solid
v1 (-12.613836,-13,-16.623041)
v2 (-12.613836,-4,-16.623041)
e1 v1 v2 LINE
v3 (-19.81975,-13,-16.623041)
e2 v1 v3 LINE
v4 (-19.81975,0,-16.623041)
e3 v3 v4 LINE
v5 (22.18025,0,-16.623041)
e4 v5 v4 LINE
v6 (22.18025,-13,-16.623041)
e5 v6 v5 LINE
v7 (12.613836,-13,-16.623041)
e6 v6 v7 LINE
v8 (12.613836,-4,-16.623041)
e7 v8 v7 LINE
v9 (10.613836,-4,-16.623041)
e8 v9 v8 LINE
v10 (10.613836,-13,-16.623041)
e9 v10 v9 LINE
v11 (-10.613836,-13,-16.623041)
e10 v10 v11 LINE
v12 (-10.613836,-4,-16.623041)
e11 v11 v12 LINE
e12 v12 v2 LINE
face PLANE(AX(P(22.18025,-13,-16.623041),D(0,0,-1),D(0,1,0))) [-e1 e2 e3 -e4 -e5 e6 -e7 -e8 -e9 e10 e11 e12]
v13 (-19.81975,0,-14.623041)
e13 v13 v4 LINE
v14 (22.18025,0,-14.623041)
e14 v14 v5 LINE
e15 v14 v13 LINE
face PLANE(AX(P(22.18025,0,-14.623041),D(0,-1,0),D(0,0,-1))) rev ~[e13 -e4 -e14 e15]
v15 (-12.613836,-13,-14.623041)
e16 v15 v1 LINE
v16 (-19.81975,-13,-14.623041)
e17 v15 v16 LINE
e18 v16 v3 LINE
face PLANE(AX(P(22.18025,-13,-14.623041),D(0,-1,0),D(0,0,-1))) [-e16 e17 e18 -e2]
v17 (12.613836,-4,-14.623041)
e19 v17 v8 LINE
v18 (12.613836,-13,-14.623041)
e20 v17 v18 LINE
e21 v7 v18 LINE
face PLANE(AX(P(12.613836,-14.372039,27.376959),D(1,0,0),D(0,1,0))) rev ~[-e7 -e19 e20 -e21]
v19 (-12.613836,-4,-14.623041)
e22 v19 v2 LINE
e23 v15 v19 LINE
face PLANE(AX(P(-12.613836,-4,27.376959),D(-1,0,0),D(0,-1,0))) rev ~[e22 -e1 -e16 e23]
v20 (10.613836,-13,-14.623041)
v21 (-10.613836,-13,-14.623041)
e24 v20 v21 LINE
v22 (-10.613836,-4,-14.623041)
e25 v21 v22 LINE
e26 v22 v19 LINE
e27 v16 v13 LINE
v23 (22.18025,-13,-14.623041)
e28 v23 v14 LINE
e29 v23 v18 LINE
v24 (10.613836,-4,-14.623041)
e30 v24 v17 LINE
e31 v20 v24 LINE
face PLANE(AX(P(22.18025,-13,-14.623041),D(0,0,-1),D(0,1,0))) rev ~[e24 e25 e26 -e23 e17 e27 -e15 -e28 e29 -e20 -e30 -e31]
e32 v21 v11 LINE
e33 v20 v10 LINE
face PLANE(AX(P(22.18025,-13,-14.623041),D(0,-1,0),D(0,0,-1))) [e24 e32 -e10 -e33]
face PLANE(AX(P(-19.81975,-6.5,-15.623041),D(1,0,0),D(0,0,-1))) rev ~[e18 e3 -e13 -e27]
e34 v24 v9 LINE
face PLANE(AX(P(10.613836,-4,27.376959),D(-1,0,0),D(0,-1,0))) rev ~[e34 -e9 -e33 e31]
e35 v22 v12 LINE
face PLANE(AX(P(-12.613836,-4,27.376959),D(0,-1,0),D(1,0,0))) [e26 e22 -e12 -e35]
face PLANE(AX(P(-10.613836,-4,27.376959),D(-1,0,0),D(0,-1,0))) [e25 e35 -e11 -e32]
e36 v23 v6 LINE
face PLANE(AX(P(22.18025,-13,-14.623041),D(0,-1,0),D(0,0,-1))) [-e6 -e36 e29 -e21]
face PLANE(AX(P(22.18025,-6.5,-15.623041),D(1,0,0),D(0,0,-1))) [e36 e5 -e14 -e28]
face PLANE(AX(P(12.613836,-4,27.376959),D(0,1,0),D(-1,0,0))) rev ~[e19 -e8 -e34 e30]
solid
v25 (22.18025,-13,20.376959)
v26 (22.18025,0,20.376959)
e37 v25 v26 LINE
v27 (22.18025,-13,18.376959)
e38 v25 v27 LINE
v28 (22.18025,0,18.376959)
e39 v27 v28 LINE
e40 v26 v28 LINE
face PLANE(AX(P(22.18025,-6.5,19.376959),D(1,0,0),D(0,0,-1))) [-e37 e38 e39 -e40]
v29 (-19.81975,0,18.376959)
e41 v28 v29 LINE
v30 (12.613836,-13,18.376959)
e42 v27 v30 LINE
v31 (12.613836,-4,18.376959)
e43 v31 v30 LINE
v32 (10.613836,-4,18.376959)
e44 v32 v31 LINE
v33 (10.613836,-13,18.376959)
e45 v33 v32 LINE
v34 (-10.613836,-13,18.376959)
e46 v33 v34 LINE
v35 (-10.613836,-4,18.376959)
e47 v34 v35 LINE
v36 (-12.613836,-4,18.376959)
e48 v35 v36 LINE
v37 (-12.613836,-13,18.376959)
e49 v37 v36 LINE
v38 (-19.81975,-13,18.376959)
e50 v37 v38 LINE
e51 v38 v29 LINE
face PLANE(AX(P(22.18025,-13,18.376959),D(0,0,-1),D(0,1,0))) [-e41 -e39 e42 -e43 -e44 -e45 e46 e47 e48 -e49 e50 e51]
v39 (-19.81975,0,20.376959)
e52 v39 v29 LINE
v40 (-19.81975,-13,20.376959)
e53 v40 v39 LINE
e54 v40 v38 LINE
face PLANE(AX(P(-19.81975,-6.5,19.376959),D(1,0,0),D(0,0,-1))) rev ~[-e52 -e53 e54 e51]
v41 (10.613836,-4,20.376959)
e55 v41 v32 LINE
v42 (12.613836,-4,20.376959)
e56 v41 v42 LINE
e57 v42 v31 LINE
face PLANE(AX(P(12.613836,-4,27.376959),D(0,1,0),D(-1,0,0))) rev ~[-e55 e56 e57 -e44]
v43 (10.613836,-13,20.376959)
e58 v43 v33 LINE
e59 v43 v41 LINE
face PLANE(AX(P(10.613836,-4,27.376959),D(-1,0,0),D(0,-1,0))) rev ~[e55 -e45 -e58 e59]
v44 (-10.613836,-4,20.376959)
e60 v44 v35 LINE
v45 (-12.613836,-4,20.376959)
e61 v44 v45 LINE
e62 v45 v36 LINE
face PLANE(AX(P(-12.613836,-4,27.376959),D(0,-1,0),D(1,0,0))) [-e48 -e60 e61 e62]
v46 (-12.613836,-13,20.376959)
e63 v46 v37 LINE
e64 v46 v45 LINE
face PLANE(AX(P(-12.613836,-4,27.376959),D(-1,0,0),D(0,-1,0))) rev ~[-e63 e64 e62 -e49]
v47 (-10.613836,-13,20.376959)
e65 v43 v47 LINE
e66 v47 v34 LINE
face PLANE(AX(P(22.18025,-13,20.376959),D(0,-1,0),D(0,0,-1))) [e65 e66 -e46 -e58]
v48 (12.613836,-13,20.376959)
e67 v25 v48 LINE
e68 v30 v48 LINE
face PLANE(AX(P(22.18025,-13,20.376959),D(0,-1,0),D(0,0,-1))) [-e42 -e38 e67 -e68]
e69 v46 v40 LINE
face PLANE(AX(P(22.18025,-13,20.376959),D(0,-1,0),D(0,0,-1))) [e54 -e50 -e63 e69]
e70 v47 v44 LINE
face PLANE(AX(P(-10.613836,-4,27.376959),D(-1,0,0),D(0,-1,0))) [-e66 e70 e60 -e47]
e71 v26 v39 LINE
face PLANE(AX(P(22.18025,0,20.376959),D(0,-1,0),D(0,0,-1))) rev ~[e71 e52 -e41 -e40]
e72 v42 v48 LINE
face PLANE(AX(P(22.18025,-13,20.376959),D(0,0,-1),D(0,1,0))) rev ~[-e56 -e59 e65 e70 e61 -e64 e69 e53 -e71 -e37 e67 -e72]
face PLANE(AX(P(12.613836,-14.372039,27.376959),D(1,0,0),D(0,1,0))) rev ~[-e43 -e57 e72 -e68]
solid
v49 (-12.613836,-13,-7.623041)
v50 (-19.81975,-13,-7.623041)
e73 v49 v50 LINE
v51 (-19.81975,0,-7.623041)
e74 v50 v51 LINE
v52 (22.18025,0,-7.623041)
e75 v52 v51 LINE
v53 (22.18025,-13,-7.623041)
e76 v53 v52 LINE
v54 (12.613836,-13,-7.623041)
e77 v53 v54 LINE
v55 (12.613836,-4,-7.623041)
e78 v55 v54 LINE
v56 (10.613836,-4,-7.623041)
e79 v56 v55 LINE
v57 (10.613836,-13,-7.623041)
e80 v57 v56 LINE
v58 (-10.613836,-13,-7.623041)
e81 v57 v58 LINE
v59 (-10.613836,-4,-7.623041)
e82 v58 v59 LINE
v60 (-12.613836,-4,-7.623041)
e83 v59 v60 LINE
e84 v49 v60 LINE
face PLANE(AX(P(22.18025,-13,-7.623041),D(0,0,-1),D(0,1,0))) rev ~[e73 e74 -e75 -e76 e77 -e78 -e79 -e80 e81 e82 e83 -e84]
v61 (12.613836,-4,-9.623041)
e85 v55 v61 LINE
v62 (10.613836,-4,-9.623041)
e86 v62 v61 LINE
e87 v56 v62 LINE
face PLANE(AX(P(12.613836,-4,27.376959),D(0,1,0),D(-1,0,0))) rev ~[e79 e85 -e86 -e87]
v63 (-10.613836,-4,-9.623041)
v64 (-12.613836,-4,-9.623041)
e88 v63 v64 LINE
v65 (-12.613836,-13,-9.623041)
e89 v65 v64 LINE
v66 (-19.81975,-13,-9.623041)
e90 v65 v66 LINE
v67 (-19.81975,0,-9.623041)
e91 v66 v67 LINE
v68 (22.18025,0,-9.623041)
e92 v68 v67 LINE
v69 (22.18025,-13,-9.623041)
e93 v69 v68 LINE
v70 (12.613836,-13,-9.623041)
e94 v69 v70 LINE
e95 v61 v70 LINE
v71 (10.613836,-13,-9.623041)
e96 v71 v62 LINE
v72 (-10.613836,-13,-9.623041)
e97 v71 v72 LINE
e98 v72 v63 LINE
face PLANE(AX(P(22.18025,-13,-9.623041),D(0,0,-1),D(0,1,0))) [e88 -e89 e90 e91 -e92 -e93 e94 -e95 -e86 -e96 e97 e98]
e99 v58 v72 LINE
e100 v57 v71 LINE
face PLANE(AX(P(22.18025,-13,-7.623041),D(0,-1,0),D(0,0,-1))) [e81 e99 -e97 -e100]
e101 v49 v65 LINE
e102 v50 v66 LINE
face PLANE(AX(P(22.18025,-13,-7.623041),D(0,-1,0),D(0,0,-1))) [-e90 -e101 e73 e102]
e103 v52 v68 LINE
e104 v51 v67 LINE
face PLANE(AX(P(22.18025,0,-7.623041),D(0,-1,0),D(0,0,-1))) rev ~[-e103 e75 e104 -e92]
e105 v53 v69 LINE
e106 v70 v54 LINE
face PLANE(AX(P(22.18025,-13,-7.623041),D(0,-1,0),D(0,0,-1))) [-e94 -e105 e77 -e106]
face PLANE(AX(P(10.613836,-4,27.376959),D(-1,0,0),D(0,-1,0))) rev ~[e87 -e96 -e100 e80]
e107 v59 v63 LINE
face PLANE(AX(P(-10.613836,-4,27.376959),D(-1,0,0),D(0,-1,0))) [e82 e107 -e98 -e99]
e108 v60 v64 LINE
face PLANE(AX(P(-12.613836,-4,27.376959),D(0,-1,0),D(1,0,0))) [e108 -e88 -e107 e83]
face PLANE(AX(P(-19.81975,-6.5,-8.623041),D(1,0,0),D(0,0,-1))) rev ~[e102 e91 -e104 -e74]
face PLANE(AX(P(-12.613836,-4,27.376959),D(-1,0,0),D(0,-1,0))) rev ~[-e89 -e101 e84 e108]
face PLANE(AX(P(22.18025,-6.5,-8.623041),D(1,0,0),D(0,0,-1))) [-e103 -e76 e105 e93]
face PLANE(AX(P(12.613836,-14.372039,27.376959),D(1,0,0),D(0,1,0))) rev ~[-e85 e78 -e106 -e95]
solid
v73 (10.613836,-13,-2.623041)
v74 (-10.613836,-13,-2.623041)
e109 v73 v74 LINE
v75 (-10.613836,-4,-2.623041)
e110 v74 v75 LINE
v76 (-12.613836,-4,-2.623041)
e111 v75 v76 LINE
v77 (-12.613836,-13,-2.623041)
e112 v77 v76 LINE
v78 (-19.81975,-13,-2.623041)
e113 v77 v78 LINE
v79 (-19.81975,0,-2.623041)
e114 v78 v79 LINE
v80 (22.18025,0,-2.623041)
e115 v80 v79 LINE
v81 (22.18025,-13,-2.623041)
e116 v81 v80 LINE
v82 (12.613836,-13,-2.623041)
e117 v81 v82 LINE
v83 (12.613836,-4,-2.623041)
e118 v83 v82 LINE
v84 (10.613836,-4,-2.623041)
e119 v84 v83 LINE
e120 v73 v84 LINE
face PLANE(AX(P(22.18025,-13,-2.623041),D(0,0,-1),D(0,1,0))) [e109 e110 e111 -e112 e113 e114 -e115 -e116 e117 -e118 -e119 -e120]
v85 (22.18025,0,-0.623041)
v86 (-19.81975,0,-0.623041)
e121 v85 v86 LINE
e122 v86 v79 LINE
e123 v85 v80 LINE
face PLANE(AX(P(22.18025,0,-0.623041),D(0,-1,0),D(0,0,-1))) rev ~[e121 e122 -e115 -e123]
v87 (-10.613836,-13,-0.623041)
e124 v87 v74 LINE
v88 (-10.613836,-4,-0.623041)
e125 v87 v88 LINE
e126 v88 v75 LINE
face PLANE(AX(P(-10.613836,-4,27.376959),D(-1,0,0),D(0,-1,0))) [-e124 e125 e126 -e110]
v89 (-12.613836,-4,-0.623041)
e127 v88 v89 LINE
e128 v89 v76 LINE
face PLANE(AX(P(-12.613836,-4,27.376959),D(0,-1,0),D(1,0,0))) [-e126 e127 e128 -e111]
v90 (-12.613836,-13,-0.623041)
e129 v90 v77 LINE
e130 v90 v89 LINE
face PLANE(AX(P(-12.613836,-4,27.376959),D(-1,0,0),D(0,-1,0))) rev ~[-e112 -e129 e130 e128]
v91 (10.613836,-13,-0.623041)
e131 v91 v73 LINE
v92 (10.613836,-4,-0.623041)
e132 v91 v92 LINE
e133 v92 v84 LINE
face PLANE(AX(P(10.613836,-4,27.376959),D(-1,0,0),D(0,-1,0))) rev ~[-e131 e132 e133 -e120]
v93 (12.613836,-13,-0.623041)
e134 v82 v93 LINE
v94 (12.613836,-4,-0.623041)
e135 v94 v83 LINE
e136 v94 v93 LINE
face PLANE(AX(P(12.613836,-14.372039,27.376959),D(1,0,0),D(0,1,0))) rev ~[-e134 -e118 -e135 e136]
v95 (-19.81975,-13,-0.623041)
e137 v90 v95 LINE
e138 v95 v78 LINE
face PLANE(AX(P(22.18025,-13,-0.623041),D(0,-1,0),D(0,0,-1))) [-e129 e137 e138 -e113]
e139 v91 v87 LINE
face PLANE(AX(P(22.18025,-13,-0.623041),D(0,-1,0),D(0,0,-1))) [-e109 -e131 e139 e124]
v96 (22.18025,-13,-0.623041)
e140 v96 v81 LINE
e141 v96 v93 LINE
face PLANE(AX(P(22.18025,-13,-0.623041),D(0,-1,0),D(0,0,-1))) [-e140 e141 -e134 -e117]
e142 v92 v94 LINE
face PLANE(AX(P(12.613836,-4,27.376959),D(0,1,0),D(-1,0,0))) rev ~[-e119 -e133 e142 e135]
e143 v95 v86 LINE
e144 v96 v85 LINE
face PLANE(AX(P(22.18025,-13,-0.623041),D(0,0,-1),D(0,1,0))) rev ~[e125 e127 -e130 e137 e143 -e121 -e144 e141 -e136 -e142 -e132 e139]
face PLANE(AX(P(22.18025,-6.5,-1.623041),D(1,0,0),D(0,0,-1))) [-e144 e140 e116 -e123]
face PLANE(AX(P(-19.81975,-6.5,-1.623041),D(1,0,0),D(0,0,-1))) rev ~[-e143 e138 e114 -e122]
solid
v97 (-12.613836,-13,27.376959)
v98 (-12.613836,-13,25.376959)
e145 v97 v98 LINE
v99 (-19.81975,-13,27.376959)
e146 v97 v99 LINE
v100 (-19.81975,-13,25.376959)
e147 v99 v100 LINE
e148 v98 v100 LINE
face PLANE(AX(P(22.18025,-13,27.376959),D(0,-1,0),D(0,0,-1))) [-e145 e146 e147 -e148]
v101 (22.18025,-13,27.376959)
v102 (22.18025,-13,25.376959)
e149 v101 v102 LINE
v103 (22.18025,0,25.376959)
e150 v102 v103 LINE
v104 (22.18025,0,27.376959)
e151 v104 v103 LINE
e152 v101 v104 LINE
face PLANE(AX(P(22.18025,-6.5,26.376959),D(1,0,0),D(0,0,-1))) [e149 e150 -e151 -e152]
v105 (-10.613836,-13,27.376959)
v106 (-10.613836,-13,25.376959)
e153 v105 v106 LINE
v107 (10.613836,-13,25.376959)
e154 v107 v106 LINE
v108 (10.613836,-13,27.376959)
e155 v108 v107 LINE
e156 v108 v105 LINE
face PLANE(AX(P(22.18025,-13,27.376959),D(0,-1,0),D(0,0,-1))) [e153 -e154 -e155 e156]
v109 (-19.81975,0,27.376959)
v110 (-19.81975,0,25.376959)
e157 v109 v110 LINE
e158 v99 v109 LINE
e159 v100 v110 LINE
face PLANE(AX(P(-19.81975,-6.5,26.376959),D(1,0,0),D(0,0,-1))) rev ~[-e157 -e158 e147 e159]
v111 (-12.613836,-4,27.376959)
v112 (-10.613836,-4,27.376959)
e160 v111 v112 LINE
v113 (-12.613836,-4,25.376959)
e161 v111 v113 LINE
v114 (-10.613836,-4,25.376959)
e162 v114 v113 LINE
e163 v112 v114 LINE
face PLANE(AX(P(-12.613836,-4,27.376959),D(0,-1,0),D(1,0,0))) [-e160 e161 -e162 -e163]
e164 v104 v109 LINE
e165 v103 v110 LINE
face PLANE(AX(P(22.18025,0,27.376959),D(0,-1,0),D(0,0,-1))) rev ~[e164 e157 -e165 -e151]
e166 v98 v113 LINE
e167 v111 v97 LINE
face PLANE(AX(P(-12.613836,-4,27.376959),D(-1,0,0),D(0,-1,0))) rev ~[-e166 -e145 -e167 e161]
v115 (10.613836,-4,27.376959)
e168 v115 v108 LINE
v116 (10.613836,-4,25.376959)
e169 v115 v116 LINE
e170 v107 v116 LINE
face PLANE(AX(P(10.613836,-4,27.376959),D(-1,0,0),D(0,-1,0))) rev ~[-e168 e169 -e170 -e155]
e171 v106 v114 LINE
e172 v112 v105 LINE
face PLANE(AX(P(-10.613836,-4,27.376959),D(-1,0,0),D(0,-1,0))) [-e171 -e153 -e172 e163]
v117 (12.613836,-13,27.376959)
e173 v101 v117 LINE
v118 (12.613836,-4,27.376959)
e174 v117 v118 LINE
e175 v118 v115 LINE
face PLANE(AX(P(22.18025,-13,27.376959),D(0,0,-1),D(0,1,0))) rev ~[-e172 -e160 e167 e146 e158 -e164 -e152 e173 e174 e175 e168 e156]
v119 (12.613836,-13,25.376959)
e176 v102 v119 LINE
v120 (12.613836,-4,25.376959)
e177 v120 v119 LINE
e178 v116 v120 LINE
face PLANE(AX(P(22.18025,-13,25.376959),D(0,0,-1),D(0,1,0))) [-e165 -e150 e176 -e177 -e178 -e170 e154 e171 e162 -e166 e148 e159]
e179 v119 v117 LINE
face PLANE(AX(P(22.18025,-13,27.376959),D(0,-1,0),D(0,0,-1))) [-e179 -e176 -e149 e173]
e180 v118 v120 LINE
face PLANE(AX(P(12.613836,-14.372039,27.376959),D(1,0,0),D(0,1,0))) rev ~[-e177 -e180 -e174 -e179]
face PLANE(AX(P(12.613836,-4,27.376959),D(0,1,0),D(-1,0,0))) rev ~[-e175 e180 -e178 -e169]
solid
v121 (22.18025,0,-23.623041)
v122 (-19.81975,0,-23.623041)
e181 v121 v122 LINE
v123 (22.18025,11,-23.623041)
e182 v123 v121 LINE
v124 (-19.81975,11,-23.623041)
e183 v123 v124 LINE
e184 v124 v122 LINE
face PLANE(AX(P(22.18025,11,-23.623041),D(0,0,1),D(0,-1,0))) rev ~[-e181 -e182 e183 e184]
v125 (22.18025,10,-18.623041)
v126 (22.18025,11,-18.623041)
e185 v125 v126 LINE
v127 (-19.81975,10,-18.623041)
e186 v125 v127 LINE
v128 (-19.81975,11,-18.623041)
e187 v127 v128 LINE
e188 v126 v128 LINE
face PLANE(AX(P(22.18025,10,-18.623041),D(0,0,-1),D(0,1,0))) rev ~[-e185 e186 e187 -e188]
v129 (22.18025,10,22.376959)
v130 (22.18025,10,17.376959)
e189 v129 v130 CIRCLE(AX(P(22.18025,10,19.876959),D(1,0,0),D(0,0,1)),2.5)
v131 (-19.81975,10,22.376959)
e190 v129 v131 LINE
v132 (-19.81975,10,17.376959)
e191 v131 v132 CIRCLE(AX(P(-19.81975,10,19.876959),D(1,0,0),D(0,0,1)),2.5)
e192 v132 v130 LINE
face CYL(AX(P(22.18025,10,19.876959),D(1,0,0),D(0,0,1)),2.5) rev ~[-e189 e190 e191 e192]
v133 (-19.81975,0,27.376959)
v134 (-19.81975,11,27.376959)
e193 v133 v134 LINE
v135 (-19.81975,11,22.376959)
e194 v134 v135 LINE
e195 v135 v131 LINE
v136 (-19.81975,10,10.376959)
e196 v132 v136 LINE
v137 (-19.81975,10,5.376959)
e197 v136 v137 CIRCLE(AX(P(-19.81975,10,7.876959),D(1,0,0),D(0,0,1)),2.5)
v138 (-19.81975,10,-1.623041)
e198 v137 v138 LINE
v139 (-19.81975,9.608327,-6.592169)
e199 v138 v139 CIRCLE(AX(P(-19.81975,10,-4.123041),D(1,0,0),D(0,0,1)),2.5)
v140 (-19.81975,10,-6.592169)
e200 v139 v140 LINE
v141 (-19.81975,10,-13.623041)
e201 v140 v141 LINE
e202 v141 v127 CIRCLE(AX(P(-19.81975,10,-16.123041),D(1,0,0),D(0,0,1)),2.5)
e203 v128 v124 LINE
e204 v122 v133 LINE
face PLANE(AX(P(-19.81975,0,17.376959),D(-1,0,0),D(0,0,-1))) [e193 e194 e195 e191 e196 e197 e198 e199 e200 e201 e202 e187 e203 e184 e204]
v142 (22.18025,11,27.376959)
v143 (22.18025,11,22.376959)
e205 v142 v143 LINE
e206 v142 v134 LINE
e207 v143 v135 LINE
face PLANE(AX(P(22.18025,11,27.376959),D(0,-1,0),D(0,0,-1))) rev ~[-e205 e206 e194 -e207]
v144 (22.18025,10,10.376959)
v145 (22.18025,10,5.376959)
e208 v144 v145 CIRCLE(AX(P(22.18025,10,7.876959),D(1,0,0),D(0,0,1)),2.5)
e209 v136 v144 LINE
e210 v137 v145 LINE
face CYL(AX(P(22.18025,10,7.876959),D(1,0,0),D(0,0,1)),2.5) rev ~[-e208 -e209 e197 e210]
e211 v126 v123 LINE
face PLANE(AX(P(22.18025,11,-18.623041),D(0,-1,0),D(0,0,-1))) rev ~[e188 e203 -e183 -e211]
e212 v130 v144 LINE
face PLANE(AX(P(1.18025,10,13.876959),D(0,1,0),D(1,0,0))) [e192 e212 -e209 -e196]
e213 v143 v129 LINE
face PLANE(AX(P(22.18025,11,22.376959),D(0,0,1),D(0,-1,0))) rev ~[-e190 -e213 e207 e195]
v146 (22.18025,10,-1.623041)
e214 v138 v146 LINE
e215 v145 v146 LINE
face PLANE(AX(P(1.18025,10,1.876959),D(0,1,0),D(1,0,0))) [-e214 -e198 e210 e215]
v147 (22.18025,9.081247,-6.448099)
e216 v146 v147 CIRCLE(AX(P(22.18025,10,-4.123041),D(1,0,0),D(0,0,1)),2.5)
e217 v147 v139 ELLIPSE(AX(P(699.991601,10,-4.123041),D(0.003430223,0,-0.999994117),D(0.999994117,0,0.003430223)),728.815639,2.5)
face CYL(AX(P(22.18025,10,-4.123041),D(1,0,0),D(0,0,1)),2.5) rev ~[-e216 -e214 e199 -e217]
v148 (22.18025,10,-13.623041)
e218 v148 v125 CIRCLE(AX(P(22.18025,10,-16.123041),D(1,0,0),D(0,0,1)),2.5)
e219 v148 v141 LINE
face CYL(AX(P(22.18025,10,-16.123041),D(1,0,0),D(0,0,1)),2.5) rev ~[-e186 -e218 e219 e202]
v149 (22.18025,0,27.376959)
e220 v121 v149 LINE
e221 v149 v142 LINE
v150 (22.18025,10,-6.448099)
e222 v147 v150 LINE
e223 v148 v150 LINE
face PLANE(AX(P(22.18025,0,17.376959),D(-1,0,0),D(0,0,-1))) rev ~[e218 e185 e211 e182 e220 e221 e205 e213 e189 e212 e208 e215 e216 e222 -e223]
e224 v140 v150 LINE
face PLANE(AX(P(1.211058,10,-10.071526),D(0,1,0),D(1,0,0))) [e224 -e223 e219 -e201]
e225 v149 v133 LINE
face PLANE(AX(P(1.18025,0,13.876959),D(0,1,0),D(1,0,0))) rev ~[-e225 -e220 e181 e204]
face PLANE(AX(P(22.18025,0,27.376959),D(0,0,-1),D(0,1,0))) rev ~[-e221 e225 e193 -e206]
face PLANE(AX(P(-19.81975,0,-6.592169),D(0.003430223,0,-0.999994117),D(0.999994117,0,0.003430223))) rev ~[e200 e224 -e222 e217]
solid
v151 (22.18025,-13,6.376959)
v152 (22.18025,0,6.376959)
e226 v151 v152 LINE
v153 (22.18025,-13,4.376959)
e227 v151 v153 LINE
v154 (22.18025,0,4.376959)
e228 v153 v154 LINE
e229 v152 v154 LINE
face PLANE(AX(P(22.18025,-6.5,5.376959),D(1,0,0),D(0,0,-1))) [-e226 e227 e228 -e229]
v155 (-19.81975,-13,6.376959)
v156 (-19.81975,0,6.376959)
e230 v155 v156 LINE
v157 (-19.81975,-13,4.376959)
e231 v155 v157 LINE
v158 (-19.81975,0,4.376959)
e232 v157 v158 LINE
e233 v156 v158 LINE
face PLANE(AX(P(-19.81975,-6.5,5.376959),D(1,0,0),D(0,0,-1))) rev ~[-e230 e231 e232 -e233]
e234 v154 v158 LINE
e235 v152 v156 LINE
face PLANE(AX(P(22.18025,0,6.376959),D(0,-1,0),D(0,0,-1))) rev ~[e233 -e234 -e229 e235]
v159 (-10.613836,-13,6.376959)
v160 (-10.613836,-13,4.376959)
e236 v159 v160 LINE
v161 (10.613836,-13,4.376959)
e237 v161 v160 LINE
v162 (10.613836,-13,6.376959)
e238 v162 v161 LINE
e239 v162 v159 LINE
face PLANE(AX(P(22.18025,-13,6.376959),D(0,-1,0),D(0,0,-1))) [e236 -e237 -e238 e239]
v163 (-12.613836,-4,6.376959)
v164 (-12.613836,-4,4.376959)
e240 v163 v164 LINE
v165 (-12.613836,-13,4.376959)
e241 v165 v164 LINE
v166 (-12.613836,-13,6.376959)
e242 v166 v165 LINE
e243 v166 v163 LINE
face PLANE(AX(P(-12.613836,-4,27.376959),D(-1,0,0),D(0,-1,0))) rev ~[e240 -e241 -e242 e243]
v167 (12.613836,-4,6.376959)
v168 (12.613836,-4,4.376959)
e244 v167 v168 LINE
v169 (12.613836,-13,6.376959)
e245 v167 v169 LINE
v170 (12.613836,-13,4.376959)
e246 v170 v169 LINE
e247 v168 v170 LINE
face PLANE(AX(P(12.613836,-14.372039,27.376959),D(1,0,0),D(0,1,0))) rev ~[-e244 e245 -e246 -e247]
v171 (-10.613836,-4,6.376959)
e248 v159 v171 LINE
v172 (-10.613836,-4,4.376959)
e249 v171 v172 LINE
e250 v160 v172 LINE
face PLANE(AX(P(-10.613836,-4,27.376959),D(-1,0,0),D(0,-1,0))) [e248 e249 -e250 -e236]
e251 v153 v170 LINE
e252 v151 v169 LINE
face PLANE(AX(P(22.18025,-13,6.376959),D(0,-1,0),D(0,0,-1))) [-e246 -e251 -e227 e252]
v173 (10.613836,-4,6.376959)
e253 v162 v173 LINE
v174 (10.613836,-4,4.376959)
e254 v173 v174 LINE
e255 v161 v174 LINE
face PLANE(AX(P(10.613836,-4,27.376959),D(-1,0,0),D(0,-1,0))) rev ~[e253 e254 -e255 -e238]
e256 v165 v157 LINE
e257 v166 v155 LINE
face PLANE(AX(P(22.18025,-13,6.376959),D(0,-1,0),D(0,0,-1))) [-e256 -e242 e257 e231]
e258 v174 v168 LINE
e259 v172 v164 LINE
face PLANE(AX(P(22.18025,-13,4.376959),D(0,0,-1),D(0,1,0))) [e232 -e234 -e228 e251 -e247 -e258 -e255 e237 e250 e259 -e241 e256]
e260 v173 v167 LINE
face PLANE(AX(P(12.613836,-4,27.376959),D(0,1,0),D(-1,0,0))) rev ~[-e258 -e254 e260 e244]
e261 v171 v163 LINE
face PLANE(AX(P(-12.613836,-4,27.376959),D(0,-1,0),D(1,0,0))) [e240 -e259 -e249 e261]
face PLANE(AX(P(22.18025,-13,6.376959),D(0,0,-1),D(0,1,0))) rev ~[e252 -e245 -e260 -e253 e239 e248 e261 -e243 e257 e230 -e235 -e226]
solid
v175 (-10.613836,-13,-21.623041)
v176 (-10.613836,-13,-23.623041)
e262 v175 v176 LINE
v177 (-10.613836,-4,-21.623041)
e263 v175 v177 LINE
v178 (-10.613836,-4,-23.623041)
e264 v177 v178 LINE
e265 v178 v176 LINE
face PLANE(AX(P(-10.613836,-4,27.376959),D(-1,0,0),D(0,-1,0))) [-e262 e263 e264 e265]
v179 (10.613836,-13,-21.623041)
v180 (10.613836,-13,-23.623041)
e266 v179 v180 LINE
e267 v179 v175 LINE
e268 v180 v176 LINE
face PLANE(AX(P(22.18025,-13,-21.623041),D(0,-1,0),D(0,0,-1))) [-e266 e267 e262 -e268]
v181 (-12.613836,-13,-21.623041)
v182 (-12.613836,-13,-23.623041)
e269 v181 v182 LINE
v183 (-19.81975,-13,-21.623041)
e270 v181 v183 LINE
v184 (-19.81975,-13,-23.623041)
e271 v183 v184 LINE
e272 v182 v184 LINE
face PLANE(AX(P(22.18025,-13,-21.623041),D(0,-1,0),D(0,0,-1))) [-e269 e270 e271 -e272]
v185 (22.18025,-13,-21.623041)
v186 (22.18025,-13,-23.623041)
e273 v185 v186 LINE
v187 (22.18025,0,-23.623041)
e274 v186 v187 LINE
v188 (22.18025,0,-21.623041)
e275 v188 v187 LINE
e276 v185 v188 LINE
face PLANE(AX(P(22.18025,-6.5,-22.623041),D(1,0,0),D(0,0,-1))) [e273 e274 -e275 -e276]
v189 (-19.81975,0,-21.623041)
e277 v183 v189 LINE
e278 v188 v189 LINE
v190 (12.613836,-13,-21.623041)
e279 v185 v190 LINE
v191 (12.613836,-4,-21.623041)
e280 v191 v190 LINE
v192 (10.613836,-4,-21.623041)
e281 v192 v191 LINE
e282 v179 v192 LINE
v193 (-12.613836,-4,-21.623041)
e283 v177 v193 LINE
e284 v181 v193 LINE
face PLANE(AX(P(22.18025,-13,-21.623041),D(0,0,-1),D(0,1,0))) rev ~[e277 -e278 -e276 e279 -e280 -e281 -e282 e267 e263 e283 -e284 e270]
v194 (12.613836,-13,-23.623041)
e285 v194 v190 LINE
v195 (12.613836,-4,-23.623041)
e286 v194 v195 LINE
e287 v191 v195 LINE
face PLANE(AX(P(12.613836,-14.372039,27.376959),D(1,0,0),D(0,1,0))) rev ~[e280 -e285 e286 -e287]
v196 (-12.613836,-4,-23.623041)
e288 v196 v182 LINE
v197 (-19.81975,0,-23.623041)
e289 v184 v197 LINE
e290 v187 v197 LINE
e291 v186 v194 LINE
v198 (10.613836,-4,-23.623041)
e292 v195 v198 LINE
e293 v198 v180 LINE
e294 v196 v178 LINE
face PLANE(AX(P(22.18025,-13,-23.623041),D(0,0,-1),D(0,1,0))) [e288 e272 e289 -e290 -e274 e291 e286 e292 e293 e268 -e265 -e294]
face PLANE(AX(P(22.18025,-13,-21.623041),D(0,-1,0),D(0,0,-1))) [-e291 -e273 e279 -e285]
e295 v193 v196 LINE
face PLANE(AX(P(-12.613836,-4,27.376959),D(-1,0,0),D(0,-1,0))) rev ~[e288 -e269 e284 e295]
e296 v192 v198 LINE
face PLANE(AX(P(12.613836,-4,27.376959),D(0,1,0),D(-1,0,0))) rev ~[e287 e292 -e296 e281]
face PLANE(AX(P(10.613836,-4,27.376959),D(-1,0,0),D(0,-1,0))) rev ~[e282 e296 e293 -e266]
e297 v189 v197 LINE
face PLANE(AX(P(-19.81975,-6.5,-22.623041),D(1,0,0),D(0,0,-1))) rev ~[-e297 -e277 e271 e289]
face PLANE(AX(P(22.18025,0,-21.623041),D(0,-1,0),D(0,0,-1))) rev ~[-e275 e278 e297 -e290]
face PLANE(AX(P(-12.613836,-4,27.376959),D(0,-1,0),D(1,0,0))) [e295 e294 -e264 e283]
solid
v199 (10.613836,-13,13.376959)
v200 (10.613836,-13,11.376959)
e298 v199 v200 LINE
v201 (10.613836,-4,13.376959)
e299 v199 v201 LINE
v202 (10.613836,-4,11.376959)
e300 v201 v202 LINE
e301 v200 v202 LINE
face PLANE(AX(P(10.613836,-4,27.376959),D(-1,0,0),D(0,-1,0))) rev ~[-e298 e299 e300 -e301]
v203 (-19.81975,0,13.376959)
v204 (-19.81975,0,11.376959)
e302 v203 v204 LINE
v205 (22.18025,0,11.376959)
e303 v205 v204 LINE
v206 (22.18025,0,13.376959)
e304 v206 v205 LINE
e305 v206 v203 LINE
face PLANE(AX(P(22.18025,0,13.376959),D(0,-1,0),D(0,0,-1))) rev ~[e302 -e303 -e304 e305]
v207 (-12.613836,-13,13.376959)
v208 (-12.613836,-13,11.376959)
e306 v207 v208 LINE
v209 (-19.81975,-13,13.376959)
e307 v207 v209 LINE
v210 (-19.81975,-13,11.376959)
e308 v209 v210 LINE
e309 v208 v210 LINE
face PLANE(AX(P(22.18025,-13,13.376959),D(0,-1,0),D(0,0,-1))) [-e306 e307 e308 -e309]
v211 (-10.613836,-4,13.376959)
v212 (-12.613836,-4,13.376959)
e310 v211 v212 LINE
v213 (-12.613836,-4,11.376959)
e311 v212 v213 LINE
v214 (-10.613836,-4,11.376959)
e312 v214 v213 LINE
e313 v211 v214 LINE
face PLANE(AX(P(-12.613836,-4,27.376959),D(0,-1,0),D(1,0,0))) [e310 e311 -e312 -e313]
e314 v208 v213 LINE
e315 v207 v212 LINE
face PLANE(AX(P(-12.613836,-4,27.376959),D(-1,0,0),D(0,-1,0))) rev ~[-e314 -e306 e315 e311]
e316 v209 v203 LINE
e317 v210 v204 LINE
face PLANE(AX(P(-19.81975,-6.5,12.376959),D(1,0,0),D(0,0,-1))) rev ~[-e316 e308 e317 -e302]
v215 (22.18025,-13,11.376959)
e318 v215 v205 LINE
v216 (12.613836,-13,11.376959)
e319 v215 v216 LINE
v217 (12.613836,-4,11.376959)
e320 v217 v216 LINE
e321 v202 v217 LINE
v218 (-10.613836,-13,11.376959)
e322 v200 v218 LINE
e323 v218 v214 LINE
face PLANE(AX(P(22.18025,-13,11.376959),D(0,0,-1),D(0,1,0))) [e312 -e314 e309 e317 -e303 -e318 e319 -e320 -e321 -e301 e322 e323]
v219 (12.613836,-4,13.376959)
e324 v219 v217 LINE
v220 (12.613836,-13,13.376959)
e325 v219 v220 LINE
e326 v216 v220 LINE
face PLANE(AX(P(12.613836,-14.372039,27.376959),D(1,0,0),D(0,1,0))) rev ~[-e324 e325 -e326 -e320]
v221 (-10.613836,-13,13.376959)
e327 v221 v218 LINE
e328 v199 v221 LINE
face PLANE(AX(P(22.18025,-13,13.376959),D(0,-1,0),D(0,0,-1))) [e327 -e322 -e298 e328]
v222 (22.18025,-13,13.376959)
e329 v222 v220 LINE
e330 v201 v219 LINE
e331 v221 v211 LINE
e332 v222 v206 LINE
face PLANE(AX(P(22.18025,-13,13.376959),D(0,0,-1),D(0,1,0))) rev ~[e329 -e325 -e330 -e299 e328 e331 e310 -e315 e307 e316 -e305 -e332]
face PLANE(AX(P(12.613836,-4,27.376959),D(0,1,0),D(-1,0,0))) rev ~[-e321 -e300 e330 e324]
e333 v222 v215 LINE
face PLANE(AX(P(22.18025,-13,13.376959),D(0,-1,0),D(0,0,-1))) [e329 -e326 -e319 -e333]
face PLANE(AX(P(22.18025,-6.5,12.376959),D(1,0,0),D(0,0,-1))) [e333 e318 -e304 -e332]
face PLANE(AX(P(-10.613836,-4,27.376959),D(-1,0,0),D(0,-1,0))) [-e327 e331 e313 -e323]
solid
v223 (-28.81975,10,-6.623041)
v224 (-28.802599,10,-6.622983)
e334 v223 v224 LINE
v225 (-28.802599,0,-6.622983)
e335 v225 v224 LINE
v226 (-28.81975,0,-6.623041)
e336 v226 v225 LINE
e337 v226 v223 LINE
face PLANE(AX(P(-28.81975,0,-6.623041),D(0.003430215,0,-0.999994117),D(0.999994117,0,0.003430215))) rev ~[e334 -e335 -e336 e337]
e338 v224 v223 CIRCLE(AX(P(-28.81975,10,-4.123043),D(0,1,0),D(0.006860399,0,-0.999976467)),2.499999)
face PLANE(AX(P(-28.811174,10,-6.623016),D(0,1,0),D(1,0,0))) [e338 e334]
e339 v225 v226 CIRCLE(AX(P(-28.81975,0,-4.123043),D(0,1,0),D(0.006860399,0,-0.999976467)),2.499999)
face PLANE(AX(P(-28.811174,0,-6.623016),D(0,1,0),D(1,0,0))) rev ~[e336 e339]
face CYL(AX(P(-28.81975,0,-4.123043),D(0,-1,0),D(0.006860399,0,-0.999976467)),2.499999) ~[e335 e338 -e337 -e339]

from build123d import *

# Parameters (mm, degrees)
SKETCH2_W             = 42
SKETCH2_H             = 7
BOSS_EXTRUDE1_DEPTH   = 10
BOSS_EXTRUDE1_2_DEPTH = 10
BOSS_EXTRUDE1_3_DEPTH = 10
BOSS_EXTRUDE1_4_DEPTH = 10
BOSS_EXTRUDE2_DEPTH   = 42
SKETCH4_W             = 2
SKETCH4_H             = 13
BOSS_EXTRUDE3_DEPTH   = 42
LPATTERN1_COUNT       = 8
LPATTERN1_PITCH       = 7
CUT_EXTRUDE1_DEPTH    = 51


with BuildPart() as part:
    # Sketch2 → Boss-Extrude1 (new body)
    with BuildSketch(Plane(origin=(0, 0, 0), x_dir=(1, 0, 0), z_dir=(0, 1, 0))):
        with Locations((1.180250214, -1.876958583)):
            Rectangle(SKETCH2_W, SKETCH2_H)
    extrude(amount=BOSS_EXTRUDE1_DEPTH)



with BuildPart() as body_2:
    # Sketch2 → Boss-Extrude1 2 (new body)
    with BuildSketch(Plane(origin=(0, 0, 0), x_dir=(1, 0, 0), z_dir=(0, 1, 0))):
        with BuildLine():
            Line((-28.819749786, 6.623041417), (-28.802598773, 6.622982585))
            ThreePointArc((-28.802598773, 6.622982585), (-28.811174229, 6.623026709), (-28.819749786, 6.623041417))
        make_face()
    extrude(amount=BOSS_EXTRUDE1_2_DEPTH)


with BuildPart() as body_3:
    # Sketch2 → Boss-Extrude1 3 (new body)
    with BuildSketch(Plane(origin=(0, 0, 0), x_dir=(1, 0, 0), z_dir=(0, 1, 0))):
        Polygon((-19.819749786, 6.592169231), (22.180250214, 6.448099027), (22.180250214, 13.623041417), (-19.819749786, 13.623041417), align=None)
    extrude(amount=BOSS_EXTRUDE1_3_DEPTH)


with BuildPart() as body_4:
    # Sketch2 → Boss-Extrude1 4 (new body)
    with BuildSketch(Plane(origin=(0, 0, 0), x_dir=(1, 0, 0), z_dir=(0, 1, 0))):
        with Locations((1.180250214, -13.876958583)):
            Rectangle(SKETCH2_W, SKETCH2_H)
    extrude(amount=BOSS_EXTRUDE1_4_DEPTH)


with BuildPart() as part_1:
    add(part.part)

    add(body_3.part)  # Boss-Extrude2 merges body 3

    add(body_4.part)  # Boss-Extrude2 merges body 4
    # Sketch3 → Boss-Extrude2 (add)
    with BuildSketch(Plane(origin=(22.180250214, 0, 0), x_dir=(0, 0, -1), z_dir=(1, 0, 0))):
        with BuildLine():
            Line((-17.376958583, 10), (-10.376958583, 10))
            ThreePointArc((-10.376958583, 10), (-7.876958583, 7.5), (-5.376958583, 10))
            Line((-5.376958583, 10), (1.623041417, 10))
            ThreePointArc((1.623041417, 10), (4.123041417, 7.5), (6.623041417, 10))
            Line((6.623041417, 10), (13.623041417, 10))
            ThreePointArc((13.623041417, 10), (16.123041417, 7.5), (18.623041417, 10))
            Line((18.623041417, 10), (18.623041417, 11))
            Line((18.623041417, 11), (23.623041417, 11))
            Line((23.623041417, 11), (23.623041417, 0))
            Line((23.623041417, 0), (-27.376958583, 0))
            Line((-27.376958583, 0), (-27.376958583, 11))
            Line((-27.376958583, 11), (-22.376958583, 11))
            Line((-22.376958583, 11), (-22.376958583, 10))
            ThreePointArc((-22.376958583, 10), (-19.876958583, 7.5), (-17.376958583, 10))
        make_face()
    extrude(amount=-BOSS_EXTRUDE2_DEPTH)


with BuildPart() as body_3_2:
    # Sketch4 → Boss-Extrude3 (new body)
    with BuildSketch(Plane(origin=(22.180250214, 0, 0), x_dir=(0, 0, -1), z_dir=(1, 0, 0))):
        with Locations((22.623041417, -6.5)):
            Rectangle(SKETCH4_W, SKETCH4_H)
    boss_extrude3 = extrude(amount=-BOSS_EXTRUDE3_DEPTH)


with BuildPart() as lpattern1_1:
    # LPattern1: pattern copy
    add(boss_extrude3.moved(Location(Vector(0, 0, 1) * (1 * LPATTERN1_PITCH))))


with BuildPart() as lpattern1_2:
    # LPattern1: pattern copy
    add(boss_extrude3.moved(Location(Vector(0, 0, 1) * (2 * LPATTERN1_PITCH))))


with BuildPart() as lpattern1_3:
    # LPattern1: pattern copy
    add(boss_extrude3.moved(Location(Vector(0, 0, 1) * (3 * LPATTERN1_PITCH))))


with BuildPart() as lpattern1_4:
    # LPattern1: pattern copy
    add(boss_extrude3.moved(Location(Vector(0, 0, 1) * (4 * LPATTERN1_PITCH))))


with BuildPart() as lpattern1_5:
    # LPattern1: pattern copy
    add(boss_extrude3.moved(Location(Vector(0, 0, 1) * (5 * LPATTERN1_PITCH))))


with BuildPart() as lpattern1_6:
    # LPattern1: pattern copy
    add(boss_extrude3.moved(Location(Vector(0, 0, 1) * (6 * LPATTERN1_PITCH))))


with BuildPart() as lpattern1_7:
    # LPattern1: pattern copy
    add(boss_extrude3.moved(Location(Vector(0, 0, 1) * (7 * LPATTERN1_PITCH))))


with BuildPart() as cut_extrude1_tool:
    # Sketch5 → Cut-Extrude1 (new body)
    with BuildSketch(Plane.XY.offset(27.376958583)):
        Polygon((12.613836154, -13), (12.613836154, -4), (10.613836154, -4), (10.613836154, -14.372038729), (12.613836154, -14.372038729), align=None)
        Polygon((-12.613836154, -14.372038729), (-12.613836154, -13), (-12.613836154, -4), (-10.613836154, -4), (-10.613836154, -14.372038729), align=None)
    extrude(amount=-CUT_EXTRUDE1_DEPTH)


with BuildPart() as body_3_2_1:
    add(body_3_2.part)

    # Cut-Extrude1: cut by cut_extrude1_tool
    add(cut_extrude1_tool.part, mode=Mode.SUBTRACT)


with BuildPart() as lpattern1_1_1:
    add(lpattern1_1.part)

    # Cut-Extrude1: cut by cut_extrude1_tool
    add(cut_extrude1_tool.part, mode=Mode.SUBTRACT)


with BuildPart() as lpattern1_2_1:
    add(lpattern1_2.part)

    # Cut-Extrude1: cut by cut_extrude1_tool
    add(cut_extrude1_tool.part, mode=Mode.SUBTRACT)


with BuildPart() as lpattern1_3_1:
    add(lpattern1_3.part)

    # Cut-Extrude1: cut by cut_extrude1_tool
    add(cut_extrude1_tool.part, mode=Mode.SUBTRACT)


with BuildPart() as lpattern1_4_1:
    add(lpattern1_4.part)

    # Cut-Extrude1: cut by cut_extrude1_tool
    add(cut_extrude1_tool.part, mode=Mode.SUBTRACT)


with BuildPart() as lpattern1_5_1:
    add(lpattern1_5.part)

    # Cut-Extrude1: cut by cut_extrude1_tool
    add(cut_extrude1_tool.part, mode=Mode.SUBTRACT)


with BuildPart() as lpattern1_6_1:
    add(lpattern1_6.part)

    # Cut-Extrude1: cut by cut_extrude1_tool
    add(cut_extrude1_tool.part, mode=Mode.SUBTRACT)


with BuildPart() as lpattern1_7_1:
    add(lpattern1_7.part)

    # Cut-Extrude1: cut by cut_extrude1_tool
    add(cut_extrude1_tool.part, mode=Mode.SUBTRACT)


solid = Compound([body_2.part, part_1.part, body_3_2_1.part, lpattern1_1_1.part, lpattern1_2_1.part, lpattern1_3_1.part, lpattern1_4_1.part, lpattern1_5_1.part, lpattern1_6_1.part, lpattern1_7_1.part])
